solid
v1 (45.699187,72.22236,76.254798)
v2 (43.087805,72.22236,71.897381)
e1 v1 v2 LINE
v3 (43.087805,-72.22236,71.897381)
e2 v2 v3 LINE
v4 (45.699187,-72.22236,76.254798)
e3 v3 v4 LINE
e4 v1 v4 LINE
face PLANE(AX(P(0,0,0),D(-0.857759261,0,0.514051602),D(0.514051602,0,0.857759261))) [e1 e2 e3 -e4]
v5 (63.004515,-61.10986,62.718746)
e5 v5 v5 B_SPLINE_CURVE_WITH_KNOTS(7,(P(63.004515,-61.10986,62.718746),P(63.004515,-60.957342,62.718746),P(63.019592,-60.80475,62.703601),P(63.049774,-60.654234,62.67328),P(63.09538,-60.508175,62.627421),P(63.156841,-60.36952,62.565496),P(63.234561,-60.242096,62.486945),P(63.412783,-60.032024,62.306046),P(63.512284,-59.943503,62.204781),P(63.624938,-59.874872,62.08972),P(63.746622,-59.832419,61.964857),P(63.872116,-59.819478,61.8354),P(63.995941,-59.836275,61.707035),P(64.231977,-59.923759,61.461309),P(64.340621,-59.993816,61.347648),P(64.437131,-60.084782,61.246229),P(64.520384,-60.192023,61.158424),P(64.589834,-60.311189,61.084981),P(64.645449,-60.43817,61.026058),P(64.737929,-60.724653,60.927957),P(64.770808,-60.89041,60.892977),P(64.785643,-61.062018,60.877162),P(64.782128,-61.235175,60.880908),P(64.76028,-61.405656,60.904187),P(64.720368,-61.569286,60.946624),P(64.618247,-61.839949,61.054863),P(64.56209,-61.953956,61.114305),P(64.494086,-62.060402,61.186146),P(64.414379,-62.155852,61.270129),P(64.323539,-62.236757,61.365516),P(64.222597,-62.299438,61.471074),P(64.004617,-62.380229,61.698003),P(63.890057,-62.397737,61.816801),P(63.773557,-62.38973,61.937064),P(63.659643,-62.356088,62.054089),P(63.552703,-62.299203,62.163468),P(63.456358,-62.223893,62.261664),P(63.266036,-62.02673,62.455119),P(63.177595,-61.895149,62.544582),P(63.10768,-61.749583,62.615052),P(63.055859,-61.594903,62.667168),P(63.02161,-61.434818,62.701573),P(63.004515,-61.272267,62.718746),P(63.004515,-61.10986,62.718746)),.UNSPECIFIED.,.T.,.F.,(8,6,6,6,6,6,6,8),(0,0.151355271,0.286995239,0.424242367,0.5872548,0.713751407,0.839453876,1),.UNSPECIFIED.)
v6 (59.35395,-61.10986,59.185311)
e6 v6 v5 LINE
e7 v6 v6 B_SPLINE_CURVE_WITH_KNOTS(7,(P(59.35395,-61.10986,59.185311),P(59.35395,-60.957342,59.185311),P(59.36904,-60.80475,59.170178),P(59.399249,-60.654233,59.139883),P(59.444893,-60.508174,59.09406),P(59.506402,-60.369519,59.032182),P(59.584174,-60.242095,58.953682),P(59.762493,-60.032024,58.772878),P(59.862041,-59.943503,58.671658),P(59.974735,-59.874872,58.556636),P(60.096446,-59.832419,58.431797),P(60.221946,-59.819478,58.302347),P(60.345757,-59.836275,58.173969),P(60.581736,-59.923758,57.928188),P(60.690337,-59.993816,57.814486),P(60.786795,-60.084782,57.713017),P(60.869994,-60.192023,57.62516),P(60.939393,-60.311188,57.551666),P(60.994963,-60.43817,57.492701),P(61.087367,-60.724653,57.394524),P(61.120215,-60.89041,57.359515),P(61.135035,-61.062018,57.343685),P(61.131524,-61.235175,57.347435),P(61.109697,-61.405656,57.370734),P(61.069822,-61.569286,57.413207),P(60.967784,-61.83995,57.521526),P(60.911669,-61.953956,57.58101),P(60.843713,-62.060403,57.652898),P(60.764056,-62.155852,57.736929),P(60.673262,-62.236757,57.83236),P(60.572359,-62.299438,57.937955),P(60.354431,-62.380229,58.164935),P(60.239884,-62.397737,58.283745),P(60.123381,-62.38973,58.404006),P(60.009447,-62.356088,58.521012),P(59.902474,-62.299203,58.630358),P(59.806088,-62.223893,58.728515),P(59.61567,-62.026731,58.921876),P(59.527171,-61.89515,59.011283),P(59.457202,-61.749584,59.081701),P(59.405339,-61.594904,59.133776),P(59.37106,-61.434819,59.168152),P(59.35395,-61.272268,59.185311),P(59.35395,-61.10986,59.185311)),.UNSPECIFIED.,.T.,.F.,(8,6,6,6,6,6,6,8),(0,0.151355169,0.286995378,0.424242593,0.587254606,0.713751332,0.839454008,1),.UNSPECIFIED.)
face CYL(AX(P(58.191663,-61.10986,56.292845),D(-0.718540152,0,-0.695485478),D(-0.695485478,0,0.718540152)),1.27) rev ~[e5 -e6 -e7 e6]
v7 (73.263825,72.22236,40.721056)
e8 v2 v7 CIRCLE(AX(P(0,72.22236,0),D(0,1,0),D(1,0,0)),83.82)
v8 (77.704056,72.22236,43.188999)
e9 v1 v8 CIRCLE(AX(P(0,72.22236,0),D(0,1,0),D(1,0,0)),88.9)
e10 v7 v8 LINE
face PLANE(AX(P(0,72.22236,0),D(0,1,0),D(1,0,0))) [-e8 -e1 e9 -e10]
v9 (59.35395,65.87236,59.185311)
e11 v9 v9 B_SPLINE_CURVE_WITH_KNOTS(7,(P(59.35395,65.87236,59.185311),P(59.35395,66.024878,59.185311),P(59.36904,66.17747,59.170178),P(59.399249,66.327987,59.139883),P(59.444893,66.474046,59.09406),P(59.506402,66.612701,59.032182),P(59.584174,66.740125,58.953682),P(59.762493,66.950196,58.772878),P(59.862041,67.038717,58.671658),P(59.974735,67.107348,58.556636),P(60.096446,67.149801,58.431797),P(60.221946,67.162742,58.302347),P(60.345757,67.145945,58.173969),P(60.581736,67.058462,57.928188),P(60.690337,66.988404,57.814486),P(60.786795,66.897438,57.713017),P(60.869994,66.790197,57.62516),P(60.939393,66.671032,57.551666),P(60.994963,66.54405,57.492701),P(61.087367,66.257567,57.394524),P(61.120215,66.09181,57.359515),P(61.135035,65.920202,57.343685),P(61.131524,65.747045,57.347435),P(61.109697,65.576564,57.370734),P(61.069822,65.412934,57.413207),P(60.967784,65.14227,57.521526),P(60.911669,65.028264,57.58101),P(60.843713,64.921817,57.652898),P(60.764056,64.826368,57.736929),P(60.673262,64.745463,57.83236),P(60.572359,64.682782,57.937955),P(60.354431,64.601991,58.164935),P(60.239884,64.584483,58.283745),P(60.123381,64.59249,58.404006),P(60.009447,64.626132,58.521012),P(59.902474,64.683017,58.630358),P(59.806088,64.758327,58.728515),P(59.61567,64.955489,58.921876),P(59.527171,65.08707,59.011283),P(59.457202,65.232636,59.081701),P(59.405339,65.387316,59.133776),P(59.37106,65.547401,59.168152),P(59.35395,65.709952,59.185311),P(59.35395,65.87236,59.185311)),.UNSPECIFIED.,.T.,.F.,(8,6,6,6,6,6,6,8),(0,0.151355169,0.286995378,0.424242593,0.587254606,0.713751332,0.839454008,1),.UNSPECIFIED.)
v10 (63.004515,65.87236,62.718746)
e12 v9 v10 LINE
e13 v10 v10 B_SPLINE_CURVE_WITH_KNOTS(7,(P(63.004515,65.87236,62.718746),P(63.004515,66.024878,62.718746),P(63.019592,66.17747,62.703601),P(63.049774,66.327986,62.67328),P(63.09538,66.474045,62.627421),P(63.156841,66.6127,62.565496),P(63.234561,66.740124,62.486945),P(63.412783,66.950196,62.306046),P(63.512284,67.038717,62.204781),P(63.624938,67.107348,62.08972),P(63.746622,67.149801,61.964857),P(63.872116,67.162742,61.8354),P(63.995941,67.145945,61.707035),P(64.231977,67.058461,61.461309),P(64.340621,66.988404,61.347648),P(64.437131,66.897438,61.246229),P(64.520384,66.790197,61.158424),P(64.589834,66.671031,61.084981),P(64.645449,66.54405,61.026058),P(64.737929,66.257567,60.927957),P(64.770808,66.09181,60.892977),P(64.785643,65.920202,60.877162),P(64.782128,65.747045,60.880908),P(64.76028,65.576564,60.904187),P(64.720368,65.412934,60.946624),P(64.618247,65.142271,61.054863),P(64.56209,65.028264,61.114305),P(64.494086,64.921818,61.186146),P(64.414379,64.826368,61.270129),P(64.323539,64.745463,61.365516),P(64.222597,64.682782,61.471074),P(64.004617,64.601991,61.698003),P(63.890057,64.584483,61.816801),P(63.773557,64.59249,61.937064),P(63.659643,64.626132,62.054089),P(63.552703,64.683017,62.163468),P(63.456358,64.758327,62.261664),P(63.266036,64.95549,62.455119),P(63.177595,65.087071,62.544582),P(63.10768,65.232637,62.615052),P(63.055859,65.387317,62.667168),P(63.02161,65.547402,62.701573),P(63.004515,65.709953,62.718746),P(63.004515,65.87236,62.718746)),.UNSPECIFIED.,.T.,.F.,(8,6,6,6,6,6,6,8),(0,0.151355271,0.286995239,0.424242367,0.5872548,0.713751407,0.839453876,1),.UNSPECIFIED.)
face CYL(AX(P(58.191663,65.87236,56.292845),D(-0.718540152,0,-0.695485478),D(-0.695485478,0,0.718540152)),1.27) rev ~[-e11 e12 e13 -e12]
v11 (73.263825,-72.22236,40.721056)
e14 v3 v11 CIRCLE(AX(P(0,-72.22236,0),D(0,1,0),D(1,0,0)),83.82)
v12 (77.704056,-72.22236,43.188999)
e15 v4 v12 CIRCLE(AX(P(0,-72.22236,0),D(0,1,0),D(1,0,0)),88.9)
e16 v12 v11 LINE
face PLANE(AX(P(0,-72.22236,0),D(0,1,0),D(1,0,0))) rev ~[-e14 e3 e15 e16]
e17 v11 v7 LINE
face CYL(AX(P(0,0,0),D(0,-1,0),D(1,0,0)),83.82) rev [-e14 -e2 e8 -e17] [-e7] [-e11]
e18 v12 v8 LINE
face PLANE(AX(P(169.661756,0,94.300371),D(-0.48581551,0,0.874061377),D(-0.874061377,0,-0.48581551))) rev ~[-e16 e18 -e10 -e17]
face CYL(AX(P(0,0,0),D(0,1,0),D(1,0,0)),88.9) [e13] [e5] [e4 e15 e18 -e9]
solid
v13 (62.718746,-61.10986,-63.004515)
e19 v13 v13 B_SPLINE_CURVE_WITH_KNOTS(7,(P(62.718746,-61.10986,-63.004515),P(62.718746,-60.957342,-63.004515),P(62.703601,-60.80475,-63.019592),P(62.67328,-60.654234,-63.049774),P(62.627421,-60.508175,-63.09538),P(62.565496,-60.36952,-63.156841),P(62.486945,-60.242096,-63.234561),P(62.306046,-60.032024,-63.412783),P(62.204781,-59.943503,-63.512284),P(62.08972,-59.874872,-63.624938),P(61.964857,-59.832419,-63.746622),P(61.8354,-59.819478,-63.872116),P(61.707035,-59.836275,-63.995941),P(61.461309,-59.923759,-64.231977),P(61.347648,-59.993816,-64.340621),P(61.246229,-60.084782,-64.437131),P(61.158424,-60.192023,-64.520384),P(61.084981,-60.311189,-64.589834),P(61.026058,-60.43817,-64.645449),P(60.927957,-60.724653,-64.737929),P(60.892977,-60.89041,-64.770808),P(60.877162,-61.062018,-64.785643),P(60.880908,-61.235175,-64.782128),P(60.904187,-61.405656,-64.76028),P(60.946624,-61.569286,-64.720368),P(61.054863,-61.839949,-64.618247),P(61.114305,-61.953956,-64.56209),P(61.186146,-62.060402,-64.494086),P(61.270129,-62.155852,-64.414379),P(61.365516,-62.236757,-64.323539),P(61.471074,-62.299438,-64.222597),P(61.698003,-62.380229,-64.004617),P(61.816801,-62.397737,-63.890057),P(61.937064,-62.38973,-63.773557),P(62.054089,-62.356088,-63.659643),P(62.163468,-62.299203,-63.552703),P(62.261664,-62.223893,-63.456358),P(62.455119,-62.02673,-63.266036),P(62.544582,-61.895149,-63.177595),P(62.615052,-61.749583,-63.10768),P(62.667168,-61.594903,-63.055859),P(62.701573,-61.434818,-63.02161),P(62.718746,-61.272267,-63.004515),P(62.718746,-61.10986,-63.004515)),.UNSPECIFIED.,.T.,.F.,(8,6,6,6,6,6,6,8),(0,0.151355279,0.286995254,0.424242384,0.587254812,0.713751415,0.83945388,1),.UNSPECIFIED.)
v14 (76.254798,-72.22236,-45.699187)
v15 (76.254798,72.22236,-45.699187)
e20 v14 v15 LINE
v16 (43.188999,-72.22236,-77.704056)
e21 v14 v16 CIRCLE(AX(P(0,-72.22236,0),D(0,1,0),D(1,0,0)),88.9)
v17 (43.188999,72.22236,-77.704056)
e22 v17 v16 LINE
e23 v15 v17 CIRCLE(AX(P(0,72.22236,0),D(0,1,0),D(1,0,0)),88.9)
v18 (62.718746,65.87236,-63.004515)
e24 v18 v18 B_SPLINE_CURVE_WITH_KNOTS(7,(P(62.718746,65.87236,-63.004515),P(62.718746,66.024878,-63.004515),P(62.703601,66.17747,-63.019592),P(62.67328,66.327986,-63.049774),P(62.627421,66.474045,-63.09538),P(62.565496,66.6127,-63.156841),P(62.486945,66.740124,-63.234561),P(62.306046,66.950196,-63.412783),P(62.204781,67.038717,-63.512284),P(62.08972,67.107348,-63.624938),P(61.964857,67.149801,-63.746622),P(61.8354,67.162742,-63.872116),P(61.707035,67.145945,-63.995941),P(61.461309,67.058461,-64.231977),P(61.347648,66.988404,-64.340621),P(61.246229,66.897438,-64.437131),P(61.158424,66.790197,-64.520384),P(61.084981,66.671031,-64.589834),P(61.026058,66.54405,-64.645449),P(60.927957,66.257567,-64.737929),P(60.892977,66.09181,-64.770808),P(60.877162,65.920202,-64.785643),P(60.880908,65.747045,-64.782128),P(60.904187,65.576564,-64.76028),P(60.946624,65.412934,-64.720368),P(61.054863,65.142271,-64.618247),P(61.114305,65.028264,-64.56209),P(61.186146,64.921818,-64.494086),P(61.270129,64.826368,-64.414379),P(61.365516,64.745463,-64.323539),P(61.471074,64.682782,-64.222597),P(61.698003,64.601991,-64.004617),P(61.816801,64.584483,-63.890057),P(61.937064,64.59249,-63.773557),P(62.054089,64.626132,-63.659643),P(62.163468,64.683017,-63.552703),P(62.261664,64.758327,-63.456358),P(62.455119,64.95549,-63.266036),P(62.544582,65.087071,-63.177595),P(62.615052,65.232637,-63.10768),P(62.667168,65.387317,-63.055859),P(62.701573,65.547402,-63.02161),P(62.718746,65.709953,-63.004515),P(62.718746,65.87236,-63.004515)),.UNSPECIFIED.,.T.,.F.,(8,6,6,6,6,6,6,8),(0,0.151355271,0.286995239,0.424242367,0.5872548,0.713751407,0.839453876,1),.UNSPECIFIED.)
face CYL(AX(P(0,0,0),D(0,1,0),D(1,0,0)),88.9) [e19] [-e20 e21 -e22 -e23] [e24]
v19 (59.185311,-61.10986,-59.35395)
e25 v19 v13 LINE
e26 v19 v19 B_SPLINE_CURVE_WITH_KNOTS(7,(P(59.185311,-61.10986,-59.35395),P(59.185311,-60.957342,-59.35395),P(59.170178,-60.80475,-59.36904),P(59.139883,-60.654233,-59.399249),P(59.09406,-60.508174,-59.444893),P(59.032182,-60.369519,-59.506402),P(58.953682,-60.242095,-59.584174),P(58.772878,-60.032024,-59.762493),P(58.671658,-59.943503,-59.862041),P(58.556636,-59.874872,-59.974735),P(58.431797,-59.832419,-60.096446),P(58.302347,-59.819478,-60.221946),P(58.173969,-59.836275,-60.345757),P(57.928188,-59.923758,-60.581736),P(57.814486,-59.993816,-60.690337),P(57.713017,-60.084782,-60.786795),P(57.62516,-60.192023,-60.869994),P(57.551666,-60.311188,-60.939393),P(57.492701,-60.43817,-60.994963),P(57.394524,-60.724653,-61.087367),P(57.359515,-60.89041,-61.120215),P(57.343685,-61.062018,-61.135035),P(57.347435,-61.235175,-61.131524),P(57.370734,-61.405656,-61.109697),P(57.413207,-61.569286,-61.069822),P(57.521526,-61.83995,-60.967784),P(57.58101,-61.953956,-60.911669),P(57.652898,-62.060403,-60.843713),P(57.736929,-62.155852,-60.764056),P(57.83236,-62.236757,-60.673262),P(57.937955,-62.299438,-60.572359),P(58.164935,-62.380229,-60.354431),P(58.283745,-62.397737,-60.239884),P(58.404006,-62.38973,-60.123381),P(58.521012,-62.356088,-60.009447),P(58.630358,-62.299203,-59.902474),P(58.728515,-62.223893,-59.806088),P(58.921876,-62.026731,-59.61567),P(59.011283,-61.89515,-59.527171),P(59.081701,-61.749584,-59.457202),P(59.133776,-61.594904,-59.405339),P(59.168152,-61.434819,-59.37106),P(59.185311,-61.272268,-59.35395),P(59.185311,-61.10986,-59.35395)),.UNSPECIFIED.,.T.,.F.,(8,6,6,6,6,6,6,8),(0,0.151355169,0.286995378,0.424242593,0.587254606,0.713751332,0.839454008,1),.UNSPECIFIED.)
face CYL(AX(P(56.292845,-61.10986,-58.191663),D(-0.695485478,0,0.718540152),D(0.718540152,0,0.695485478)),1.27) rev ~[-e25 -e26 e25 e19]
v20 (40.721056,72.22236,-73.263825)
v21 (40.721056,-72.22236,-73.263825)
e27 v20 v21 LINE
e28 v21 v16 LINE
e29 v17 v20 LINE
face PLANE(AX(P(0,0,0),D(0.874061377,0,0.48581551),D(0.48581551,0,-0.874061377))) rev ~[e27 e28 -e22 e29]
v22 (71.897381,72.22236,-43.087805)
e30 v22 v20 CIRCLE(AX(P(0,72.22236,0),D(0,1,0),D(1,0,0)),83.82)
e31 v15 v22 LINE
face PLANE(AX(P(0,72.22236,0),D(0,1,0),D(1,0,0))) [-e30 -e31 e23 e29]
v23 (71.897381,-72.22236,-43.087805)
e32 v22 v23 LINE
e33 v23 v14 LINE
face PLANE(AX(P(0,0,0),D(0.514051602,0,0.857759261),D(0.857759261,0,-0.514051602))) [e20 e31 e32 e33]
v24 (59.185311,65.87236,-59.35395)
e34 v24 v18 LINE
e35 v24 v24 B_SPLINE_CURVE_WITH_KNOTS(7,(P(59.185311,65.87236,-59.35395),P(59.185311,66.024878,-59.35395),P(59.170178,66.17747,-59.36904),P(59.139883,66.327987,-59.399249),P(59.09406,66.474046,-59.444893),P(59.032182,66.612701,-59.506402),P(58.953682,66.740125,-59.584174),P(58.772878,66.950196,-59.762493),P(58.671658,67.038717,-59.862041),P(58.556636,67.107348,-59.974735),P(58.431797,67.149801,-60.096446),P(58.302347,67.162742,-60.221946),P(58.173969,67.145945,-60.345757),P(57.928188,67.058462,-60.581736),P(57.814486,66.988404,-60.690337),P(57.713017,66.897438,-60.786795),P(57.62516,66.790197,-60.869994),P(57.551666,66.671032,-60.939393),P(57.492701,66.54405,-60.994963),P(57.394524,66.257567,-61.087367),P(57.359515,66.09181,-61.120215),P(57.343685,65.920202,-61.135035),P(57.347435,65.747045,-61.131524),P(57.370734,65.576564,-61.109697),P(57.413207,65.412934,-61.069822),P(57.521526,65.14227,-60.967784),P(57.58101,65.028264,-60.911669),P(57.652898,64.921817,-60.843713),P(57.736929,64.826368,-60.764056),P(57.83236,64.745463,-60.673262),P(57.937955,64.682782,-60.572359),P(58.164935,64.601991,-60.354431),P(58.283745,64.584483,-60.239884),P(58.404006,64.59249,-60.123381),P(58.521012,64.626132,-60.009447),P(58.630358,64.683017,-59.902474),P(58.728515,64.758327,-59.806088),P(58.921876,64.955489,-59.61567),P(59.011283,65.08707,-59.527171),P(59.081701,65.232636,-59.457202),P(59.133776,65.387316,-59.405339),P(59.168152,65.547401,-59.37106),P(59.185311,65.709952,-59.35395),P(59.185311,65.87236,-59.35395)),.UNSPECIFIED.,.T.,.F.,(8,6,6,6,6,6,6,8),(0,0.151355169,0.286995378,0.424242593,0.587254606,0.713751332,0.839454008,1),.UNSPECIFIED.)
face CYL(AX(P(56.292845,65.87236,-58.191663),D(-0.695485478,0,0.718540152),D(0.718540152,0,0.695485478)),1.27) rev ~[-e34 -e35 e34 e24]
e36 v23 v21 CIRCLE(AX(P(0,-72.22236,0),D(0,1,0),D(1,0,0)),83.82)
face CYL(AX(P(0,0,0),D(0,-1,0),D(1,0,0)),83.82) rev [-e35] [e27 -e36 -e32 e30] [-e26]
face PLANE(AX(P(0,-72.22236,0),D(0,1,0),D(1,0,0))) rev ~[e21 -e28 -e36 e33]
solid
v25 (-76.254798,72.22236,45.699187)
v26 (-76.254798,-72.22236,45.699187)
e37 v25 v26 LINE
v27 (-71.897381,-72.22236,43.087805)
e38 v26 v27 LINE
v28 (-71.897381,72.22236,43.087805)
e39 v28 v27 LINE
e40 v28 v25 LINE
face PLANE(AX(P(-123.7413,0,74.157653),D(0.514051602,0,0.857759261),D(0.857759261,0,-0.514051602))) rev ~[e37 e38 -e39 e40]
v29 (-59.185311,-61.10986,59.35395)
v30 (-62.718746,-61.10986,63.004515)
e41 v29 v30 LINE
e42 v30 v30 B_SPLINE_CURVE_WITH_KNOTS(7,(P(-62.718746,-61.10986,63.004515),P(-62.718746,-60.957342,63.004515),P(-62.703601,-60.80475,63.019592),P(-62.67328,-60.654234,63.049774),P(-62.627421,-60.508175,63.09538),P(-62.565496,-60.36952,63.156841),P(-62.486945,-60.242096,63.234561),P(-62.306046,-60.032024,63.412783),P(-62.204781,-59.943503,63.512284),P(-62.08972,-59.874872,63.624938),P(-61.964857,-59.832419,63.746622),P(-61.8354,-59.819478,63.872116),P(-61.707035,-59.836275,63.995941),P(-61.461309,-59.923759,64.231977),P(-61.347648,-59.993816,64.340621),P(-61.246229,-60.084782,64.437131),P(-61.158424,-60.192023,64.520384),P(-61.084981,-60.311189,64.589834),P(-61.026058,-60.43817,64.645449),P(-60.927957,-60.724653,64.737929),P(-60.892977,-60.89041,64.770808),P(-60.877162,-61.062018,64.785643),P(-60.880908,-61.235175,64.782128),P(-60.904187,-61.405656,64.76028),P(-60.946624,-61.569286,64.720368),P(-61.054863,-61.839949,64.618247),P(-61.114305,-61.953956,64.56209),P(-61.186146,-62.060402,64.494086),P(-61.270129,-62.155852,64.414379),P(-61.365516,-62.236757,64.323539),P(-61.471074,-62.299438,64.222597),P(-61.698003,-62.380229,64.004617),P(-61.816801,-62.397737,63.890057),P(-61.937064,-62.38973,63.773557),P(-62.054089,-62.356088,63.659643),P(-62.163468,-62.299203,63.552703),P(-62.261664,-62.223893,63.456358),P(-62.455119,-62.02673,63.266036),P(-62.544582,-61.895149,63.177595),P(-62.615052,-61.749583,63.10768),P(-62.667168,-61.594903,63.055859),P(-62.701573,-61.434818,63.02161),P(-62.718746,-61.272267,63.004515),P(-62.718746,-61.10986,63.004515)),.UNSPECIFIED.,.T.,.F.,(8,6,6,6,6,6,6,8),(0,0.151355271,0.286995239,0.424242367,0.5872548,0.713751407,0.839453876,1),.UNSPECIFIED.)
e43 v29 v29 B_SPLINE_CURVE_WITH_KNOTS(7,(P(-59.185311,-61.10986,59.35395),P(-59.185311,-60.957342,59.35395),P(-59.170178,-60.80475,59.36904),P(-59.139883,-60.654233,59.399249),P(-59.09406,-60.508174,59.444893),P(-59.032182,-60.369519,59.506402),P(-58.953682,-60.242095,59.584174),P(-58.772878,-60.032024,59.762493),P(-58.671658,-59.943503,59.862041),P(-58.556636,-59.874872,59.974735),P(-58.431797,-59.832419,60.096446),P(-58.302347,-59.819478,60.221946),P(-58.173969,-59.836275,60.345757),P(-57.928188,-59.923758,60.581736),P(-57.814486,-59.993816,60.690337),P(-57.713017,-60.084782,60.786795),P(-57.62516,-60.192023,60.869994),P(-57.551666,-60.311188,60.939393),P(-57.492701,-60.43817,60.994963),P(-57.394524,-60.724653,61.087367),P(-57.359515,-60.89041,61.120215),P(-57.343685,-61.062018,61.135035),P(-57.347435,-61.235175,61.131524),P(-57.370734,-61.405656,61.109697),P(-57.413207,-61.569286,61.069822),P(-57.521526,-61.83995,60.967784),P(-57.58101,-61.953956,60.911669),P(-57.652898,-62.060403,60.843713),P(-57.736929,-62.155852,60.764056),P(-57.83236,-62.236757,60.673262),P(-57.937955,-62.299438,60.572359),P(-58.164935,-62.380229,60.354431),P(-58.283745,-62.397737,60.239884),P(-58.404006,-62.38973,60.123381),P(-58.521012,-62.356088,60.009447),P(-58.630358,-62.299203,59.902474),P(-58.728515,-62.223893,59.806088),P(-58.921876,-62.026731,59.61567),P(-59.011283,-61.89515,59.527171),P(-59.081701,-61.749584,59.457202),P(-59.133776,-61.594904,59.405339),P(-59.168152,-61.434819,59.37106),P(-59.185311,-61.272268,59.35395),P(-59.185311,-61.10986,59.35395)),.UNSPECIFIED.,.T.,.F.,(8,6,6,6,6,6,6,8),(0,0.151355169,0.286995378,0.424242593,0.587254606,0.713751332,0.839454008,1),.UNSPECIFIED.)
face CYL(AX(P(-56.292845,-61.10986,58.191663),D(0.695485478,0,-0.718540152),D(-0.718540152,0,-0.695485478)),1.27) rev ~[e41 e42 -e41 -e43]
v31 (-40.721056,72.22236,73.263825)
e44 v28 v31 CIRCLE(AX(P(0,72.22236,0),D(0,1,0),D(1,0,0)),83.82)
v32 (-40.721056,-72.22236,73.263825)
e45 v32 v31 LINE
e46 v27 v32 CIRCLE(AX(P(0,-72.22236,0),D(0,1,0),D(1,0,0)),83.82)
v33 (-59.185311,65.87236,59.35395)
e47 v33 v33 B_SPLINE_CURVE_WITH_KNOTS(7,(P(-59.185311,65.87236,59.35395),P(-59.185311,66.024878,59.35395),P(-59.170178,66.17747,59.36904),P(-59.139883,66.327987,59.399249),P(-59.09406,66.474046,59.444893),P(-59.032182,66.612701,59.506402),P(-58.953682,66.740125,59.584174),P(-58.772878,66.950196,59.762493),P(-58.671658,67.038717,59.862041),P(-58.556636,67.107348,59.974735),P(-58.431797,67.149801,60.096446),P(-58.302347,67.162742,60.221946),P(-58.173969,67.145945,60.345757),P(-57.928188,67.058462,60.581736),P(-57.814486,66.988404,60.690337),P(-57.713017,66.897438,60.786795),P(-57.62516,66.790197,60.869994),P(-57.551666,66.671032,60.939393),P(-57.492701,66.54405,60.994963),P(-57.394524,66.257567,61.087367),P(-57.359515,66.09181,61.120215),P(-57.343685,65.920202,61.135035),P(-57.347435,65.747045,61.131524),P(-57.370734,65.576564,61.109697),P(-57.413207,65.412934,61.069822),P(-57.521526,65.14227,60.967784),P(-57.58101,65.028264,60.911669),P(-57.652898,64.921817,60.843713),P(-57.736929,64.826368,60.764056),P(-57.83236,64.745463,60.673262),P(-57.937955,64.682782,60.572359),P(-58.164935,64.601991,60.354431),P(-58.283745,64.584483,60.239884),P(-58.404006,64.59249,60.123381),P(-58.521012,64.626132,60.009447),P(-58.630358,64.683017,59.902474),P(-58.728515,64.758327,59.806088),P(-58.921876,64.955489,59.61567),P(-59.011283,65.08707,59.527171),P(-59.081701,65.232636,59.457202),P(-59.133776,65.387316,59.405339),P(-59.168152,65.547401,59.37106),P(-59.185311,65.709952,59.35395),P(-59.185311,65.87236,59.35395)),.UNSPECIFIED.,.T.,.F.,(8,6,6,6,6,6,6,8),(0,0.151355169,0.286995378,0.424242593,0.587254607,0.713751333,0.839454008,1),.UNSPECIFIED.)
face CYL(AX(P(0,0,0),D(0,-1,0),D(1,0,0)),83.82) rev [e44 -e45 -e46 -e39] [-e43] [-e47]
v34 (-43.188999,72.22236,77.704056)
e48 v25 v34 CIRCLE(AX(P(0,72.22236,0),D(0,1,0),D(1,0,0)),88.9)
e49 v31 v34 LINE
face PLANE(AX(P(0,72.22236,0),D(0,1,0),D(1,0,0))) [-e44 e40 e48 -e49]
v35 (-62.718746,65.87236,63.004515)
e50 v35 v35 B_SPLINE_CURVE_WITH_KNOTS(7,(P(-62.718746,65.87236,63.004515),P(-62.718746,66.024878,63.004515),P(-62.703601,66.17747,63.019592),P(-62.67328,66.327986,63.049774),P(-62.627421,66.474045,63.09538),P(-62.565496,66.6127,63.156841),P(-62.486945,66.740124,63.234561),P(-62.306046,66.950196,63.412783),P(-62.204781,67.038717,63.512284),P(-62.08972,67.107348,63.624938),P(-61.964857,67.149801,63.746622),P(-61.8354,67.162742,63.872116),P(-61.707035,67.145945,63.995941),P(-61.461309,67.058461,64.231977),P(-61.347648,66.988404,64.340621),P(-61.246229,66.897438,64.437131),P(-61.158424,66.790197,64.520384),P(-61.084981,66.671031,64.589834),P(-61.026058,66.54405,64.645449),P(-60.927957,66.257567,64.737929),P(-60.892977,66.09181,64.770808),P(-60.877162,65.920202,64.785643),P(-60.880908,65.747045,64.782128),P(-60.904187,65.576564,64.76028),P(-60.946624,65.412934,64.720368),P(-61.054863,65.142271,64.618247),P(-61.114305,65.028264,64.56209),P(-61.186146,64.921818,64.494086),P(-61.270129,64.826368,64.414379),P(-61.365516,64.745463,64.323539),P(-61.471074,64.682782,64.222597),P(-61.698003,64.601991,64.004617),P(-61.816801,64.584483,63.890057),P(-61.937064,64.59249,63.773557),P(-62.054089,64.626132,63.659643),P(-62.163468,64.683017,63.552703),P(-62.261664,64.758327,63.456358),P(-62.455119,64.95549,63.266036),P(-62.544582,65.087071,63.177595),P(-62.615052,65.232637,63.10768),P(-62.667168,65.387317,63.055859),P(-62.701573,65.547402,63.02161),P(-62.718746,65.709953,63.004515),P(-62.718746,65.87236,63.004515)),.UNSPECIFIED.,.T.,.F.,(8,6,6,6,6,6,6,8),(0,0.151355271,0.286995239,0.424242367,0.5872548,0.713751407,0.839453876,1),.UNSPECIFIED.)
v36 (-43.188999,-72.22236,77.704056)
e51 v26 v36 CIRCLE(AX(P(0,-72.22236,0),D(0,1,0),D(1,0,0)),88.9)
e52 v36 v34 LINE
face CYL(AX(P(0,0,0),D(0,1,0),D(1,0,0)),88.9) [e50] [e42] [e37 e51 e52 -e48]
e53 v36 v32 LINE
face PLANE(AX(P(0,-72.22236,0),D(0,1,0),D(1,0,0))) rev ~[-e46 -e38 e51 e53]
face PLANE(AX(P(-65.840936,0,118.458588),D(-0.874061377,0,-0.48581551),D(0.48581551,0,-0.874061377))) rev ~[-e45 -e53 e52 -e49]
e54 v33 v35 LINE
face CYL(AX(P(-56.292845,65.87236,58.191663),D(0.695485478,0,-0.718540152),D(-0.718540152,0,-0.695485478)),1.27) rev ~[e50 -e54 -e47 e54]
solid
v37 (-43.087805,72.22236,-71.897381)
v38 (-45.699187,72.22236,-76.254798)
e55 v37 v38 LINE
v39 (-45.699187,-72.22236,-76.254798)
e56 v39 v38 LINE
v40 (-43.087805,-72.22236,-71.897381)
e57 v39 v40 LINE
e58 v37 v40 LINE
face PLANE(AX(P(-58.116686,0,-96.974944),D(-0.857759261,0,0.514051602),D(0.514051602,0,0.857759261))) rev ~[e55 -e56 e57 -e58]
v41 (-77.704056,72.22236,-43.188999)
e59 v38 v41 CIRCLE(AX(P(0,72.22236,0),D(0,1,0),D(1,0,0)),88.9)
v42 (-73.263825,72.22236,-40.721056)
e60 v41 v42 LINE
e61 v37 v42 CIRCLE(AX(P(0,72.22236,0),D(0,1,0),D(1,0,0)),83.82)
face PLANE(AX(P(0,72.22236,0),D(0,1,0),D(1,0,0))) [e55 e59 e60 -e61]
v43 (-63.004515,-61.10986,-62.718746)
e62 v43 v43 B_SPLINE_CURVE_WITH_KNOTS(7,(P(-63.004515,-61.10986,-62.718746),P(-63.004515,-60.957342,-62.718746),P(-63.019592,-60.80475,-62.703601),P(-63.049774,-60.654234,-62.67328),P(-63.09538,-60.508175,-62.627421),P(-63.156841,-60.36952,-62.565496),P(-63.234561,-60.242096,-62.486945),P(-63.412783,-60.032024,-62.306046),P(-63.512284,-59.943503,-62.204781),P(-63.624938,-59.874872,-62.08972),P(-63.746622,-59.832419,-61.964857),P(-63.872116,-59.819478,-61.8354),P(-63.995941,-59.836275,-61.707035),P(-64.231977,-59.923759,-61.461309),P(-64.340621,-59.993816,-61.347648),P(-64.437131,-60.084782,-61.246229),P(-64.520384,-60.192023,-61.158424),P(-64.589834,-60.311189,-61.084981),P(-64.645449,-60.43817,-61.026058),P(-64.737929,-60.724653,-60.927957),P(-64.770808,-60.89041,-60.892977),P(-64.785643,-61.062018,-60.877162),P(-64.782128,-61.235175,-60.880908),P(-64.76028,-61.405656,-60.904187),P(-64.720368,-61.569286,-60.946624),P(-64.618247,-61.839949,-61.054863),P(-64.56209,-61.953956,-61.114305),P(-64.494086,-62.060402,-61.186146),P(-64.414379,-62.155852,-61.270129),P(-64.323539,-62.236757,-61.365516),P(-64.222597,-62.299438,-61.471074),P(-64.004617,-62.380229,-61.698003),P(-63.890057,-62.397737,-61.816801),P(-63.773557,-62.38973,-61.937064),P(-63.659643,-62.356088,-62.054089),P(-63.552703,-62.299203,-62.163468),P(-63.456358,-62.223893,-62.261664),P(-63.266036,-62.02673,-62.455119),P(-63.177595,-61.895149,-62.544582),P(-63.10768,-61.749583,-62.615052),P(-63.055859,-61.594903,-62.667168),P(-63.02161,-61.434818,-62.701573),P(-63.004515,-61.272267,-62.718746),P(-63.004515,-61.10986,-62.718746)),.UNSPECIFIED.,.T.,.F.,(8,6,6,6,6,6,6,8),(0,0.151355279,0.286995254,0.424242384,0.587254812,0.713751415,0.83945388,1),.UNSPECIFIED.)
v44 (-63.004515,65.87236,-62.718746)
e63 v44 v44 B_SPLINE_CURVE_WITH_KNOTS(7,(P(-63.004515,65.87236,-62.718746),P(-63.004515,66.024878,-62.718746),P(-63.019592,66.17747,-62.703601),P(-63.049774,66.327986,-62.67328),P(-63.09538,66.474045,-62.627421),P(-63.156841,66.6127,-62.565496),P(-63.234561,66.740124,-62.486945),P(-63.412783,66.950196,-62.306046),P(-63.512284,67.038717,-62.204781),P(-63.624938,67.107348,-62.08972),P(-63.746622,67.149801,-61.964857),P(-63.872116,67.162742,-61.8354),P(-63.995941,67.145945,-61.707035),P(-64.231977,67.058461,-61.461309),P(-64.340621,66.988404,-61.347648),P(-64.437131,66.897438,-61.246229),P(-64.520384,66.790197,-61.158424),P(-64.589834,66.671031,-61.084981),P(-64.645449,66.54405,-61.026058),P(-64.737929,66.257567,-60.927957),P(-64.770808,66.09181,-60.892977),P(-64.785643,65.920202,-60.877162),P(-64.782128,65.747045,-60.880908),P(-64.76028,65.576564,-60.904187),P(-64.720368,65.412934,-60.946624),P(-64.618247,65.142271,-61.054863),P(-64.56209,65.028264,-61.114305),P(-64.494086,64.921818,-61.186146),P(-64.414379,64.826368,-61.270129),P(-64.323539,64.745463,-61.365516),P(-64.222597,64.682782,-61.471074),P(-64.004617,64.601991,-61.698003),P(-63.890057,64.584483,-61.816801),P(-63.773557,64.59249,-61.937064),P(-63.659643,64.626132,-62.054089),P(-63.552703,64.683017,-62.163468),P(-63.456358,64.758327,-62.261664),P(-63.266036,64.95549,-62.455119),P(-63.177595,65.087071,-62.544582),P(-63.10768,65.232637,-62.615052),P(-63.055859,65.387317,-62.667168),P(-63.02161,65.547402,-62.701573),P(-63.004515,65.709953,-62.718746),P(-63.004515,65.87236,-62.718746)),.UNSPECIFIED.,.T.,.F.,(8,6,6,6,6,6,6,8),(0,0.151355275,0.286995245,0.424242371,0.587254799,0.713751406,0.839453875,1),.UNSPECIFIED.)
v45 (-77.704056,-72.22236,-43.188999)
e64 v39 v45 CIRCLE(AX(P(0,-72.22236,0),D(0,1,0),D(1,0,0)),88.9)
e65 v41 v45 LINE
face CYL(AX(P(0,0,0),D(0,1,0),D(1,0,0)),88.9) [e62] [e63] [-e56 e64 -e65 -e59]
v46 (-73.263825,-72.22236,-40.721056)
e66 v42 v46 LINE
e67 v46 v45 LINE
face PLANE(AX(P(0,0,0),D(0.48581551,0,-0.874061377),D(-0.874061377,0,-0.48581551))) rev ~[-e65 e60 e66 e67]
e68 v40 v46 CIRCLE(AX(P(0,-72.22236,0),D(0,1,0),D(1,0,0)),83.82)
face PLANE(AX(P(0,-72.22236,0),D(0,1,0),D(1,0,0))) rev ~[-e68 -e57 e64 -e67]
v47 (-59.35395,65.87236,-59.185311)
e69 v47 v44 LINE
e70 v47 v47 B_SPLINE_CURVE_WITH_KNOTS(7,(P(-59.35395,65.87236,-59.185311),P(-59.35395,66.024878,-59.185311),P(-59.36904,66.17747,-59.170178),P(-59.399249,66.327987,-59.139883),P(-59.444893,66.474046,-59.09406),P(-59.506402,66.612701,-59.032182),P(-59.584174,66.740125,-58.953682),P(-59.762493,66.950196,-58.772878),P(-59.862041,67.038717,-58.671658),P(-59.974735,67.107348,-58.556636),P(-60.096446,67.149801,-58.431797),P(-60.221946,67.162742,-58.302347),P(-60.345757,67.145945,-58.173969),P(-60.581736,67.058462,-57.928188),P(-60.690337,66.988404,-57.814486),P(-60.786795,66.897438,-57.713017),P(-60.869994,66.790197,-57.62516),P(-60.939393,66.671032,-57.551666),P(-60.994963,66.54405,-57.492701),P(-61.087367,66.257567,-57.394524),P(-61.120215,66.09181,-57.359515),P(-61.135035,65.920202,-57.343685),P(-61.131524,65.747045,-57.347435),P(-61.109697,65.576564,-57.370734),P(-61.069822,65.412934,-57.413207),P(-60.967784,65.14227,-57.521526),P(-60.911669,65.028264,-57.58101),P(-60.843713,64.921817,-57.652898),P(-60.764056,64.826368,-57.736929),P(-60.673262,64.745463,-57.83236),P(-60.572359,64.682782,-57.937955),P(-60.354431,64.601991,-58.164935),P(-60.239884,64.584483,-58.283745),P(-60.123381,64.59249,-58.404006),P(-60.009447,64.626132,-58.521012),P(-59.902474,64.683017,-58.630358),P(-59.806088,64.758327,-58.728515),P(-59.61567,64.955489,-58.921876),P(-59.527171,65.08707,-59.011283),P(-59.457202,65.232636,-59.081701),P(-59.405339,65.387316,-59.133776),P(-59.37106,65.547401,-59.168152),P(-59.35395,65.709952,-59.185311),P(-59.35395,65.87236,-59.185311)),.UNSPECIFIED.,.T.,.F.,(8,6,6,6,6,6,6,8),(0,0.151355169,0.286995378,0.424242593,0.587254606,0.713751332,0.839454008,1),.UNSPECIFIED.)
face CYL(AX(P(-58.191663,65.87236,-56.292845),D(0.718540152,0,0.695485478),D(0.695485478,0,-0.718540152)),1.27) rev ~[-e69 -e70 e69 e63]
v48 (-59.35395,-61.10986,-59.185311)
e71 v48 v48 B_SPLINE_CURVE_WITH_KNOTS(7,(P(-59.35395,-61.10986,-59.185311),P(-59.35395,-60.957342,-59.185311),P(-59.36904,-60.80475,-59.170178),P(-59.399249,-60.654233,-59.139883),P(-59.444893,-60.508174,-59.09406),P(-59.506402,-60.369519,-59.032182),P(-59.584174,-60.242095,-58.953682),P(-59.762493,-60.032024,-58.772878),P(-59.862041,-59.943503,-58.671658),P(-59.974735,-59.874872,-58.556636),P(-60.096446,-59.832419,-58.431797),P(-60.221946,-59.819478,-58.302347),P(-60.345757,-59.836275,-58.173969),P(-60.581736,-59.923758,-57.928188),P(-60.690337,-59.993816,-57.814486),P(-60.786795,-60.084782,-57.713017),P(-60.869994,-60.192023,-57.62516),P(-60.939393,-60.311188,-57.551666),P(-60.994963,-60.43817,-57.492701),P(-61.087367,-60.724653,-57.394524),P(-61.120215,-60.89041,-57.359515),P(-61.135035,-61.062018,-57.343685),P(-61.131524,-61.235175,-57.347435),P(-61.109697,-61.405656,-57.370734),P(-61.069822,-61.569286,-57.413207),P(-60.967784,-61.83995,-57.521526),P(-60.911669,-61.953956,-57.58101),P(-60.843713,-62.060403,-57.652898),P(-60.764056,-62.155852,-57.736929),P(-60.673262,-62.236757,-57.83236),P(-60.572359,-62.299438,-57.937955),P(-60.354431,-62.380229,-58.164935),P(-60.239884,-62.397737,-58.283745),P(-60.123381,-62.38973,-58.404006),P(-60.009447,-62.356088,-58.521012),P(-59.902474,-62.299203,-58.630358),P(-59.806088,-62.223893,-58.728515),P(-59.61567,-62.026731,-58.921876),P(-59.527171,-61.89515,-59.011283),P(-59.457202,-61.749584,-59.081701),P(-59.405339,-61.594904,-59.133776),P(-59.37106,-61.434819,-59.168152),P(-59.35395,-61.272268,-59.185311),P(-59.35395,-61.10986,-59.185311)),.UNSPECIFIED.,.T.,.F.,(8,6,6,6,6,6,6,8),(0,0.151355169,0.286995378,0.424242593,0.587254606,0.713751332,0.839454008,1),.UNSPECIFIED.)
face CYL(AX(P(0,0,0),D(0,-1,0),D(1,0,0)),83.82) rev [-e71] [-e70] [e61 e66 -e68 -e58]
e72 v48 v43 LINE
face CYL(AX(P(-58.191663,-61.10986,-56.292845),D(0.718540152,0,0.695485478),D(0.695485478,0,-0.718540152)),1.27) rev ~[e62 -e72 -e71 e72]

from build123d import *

# Parameters (mm, degrees)
SKETCH2_R               = 88.9
SKETCH2_R_2             = 83.82
BOSS_EXTRUDE1_DEPTH     = 72.22236
CUT_EXTRUDE1_DEPTH      = 73.22236
CUT_EXTRUDE1_DEPTH_BACK = 73.22236
SKETCH5_R               = 1.27
BOLT_HOLES_DEPTH        = 29.911624556
BOLT_PATTERN_COUNT      = 4


with BuildPart() as part:
    # Sketch2 → Boss-Extrude1 (new body, symmetric)
    with BuildSketch(Plane(origin=(0, 0, 0), x_dir=(1, 0, 0), z_dir=(0, 1, 0))):
        Circle(SKETCH2_R)
        Circle(SKETCH2_R_2, mode=Mode.SUBTRACT)
    extrude(amount=BOSS_EXTRUDE1_DEPTH, both=True)

    # Sketch3 → Cut-Extrude1 (cut, two sides)
    with BuildSketch(Plane(origin=(0, 0, 0), x_dir=(1, 0, 0), z_dir=(0, 1, 0))) as cut_extrude1_sk:
        Polygon((169.661755759, -94.300371224), (0, 0), (169.661755759, 101.677593364), align=None)
        Polygon((0, 0), (53.900027233, 96.974944394), (-58.116685864, 96.974944394), align=None)
        Polygon((-123.741299607, 68.777140945), (-123.741299607, -74.157652604), (0, 0), align=None)
        Polygon((-65.840936026, -118.45858783), (0, 0), (70.991745134, -118.45858783), align=None)
    extrude(amount=CUT_EXTRUDE1_DEPTH, mode=Mode.SUBTRACT)
    extrude(cut_extrude1_sk.sketch, amount=-CUT_EXTRUDE1_DEPTH_BACK, mode=Mode.SUBTRACT)

    # Sketch5 → Bolt holes (cut, through all)
    with BuildSketch(Plane(origin=(-56.309218645, 0, 58.175814955), x_dir=(-0.718540152, 0, -0.695485478), z_dir=(0.695485478, 0, -0.718540152))):
        with Locations((-0.02278764, 65.87236)):
            Circle(SKETCH5_R)
        with Locations((-0.02278764, -61.10986)):
            Circle(SKETCH5_R)
    bolt_holes = extrude(amount=-BOLT_HOLES_DEPTH, mode=Mode.SUBTRACT)

    # Bolt pattern: Bolt holes ×4 about axis
    bolt_pattern_axis = Axis((0, 72.22236, 0), (0, 1, 0))
    for i in range(1, BOLT_PATTERN_COUNT):
        add(bolt_holes.rotate(bolt_pattern_axis, i * 360 / BOLT_PATTERN_COUNT), mode=Mode.SUBTRACT)


solid = part.part
